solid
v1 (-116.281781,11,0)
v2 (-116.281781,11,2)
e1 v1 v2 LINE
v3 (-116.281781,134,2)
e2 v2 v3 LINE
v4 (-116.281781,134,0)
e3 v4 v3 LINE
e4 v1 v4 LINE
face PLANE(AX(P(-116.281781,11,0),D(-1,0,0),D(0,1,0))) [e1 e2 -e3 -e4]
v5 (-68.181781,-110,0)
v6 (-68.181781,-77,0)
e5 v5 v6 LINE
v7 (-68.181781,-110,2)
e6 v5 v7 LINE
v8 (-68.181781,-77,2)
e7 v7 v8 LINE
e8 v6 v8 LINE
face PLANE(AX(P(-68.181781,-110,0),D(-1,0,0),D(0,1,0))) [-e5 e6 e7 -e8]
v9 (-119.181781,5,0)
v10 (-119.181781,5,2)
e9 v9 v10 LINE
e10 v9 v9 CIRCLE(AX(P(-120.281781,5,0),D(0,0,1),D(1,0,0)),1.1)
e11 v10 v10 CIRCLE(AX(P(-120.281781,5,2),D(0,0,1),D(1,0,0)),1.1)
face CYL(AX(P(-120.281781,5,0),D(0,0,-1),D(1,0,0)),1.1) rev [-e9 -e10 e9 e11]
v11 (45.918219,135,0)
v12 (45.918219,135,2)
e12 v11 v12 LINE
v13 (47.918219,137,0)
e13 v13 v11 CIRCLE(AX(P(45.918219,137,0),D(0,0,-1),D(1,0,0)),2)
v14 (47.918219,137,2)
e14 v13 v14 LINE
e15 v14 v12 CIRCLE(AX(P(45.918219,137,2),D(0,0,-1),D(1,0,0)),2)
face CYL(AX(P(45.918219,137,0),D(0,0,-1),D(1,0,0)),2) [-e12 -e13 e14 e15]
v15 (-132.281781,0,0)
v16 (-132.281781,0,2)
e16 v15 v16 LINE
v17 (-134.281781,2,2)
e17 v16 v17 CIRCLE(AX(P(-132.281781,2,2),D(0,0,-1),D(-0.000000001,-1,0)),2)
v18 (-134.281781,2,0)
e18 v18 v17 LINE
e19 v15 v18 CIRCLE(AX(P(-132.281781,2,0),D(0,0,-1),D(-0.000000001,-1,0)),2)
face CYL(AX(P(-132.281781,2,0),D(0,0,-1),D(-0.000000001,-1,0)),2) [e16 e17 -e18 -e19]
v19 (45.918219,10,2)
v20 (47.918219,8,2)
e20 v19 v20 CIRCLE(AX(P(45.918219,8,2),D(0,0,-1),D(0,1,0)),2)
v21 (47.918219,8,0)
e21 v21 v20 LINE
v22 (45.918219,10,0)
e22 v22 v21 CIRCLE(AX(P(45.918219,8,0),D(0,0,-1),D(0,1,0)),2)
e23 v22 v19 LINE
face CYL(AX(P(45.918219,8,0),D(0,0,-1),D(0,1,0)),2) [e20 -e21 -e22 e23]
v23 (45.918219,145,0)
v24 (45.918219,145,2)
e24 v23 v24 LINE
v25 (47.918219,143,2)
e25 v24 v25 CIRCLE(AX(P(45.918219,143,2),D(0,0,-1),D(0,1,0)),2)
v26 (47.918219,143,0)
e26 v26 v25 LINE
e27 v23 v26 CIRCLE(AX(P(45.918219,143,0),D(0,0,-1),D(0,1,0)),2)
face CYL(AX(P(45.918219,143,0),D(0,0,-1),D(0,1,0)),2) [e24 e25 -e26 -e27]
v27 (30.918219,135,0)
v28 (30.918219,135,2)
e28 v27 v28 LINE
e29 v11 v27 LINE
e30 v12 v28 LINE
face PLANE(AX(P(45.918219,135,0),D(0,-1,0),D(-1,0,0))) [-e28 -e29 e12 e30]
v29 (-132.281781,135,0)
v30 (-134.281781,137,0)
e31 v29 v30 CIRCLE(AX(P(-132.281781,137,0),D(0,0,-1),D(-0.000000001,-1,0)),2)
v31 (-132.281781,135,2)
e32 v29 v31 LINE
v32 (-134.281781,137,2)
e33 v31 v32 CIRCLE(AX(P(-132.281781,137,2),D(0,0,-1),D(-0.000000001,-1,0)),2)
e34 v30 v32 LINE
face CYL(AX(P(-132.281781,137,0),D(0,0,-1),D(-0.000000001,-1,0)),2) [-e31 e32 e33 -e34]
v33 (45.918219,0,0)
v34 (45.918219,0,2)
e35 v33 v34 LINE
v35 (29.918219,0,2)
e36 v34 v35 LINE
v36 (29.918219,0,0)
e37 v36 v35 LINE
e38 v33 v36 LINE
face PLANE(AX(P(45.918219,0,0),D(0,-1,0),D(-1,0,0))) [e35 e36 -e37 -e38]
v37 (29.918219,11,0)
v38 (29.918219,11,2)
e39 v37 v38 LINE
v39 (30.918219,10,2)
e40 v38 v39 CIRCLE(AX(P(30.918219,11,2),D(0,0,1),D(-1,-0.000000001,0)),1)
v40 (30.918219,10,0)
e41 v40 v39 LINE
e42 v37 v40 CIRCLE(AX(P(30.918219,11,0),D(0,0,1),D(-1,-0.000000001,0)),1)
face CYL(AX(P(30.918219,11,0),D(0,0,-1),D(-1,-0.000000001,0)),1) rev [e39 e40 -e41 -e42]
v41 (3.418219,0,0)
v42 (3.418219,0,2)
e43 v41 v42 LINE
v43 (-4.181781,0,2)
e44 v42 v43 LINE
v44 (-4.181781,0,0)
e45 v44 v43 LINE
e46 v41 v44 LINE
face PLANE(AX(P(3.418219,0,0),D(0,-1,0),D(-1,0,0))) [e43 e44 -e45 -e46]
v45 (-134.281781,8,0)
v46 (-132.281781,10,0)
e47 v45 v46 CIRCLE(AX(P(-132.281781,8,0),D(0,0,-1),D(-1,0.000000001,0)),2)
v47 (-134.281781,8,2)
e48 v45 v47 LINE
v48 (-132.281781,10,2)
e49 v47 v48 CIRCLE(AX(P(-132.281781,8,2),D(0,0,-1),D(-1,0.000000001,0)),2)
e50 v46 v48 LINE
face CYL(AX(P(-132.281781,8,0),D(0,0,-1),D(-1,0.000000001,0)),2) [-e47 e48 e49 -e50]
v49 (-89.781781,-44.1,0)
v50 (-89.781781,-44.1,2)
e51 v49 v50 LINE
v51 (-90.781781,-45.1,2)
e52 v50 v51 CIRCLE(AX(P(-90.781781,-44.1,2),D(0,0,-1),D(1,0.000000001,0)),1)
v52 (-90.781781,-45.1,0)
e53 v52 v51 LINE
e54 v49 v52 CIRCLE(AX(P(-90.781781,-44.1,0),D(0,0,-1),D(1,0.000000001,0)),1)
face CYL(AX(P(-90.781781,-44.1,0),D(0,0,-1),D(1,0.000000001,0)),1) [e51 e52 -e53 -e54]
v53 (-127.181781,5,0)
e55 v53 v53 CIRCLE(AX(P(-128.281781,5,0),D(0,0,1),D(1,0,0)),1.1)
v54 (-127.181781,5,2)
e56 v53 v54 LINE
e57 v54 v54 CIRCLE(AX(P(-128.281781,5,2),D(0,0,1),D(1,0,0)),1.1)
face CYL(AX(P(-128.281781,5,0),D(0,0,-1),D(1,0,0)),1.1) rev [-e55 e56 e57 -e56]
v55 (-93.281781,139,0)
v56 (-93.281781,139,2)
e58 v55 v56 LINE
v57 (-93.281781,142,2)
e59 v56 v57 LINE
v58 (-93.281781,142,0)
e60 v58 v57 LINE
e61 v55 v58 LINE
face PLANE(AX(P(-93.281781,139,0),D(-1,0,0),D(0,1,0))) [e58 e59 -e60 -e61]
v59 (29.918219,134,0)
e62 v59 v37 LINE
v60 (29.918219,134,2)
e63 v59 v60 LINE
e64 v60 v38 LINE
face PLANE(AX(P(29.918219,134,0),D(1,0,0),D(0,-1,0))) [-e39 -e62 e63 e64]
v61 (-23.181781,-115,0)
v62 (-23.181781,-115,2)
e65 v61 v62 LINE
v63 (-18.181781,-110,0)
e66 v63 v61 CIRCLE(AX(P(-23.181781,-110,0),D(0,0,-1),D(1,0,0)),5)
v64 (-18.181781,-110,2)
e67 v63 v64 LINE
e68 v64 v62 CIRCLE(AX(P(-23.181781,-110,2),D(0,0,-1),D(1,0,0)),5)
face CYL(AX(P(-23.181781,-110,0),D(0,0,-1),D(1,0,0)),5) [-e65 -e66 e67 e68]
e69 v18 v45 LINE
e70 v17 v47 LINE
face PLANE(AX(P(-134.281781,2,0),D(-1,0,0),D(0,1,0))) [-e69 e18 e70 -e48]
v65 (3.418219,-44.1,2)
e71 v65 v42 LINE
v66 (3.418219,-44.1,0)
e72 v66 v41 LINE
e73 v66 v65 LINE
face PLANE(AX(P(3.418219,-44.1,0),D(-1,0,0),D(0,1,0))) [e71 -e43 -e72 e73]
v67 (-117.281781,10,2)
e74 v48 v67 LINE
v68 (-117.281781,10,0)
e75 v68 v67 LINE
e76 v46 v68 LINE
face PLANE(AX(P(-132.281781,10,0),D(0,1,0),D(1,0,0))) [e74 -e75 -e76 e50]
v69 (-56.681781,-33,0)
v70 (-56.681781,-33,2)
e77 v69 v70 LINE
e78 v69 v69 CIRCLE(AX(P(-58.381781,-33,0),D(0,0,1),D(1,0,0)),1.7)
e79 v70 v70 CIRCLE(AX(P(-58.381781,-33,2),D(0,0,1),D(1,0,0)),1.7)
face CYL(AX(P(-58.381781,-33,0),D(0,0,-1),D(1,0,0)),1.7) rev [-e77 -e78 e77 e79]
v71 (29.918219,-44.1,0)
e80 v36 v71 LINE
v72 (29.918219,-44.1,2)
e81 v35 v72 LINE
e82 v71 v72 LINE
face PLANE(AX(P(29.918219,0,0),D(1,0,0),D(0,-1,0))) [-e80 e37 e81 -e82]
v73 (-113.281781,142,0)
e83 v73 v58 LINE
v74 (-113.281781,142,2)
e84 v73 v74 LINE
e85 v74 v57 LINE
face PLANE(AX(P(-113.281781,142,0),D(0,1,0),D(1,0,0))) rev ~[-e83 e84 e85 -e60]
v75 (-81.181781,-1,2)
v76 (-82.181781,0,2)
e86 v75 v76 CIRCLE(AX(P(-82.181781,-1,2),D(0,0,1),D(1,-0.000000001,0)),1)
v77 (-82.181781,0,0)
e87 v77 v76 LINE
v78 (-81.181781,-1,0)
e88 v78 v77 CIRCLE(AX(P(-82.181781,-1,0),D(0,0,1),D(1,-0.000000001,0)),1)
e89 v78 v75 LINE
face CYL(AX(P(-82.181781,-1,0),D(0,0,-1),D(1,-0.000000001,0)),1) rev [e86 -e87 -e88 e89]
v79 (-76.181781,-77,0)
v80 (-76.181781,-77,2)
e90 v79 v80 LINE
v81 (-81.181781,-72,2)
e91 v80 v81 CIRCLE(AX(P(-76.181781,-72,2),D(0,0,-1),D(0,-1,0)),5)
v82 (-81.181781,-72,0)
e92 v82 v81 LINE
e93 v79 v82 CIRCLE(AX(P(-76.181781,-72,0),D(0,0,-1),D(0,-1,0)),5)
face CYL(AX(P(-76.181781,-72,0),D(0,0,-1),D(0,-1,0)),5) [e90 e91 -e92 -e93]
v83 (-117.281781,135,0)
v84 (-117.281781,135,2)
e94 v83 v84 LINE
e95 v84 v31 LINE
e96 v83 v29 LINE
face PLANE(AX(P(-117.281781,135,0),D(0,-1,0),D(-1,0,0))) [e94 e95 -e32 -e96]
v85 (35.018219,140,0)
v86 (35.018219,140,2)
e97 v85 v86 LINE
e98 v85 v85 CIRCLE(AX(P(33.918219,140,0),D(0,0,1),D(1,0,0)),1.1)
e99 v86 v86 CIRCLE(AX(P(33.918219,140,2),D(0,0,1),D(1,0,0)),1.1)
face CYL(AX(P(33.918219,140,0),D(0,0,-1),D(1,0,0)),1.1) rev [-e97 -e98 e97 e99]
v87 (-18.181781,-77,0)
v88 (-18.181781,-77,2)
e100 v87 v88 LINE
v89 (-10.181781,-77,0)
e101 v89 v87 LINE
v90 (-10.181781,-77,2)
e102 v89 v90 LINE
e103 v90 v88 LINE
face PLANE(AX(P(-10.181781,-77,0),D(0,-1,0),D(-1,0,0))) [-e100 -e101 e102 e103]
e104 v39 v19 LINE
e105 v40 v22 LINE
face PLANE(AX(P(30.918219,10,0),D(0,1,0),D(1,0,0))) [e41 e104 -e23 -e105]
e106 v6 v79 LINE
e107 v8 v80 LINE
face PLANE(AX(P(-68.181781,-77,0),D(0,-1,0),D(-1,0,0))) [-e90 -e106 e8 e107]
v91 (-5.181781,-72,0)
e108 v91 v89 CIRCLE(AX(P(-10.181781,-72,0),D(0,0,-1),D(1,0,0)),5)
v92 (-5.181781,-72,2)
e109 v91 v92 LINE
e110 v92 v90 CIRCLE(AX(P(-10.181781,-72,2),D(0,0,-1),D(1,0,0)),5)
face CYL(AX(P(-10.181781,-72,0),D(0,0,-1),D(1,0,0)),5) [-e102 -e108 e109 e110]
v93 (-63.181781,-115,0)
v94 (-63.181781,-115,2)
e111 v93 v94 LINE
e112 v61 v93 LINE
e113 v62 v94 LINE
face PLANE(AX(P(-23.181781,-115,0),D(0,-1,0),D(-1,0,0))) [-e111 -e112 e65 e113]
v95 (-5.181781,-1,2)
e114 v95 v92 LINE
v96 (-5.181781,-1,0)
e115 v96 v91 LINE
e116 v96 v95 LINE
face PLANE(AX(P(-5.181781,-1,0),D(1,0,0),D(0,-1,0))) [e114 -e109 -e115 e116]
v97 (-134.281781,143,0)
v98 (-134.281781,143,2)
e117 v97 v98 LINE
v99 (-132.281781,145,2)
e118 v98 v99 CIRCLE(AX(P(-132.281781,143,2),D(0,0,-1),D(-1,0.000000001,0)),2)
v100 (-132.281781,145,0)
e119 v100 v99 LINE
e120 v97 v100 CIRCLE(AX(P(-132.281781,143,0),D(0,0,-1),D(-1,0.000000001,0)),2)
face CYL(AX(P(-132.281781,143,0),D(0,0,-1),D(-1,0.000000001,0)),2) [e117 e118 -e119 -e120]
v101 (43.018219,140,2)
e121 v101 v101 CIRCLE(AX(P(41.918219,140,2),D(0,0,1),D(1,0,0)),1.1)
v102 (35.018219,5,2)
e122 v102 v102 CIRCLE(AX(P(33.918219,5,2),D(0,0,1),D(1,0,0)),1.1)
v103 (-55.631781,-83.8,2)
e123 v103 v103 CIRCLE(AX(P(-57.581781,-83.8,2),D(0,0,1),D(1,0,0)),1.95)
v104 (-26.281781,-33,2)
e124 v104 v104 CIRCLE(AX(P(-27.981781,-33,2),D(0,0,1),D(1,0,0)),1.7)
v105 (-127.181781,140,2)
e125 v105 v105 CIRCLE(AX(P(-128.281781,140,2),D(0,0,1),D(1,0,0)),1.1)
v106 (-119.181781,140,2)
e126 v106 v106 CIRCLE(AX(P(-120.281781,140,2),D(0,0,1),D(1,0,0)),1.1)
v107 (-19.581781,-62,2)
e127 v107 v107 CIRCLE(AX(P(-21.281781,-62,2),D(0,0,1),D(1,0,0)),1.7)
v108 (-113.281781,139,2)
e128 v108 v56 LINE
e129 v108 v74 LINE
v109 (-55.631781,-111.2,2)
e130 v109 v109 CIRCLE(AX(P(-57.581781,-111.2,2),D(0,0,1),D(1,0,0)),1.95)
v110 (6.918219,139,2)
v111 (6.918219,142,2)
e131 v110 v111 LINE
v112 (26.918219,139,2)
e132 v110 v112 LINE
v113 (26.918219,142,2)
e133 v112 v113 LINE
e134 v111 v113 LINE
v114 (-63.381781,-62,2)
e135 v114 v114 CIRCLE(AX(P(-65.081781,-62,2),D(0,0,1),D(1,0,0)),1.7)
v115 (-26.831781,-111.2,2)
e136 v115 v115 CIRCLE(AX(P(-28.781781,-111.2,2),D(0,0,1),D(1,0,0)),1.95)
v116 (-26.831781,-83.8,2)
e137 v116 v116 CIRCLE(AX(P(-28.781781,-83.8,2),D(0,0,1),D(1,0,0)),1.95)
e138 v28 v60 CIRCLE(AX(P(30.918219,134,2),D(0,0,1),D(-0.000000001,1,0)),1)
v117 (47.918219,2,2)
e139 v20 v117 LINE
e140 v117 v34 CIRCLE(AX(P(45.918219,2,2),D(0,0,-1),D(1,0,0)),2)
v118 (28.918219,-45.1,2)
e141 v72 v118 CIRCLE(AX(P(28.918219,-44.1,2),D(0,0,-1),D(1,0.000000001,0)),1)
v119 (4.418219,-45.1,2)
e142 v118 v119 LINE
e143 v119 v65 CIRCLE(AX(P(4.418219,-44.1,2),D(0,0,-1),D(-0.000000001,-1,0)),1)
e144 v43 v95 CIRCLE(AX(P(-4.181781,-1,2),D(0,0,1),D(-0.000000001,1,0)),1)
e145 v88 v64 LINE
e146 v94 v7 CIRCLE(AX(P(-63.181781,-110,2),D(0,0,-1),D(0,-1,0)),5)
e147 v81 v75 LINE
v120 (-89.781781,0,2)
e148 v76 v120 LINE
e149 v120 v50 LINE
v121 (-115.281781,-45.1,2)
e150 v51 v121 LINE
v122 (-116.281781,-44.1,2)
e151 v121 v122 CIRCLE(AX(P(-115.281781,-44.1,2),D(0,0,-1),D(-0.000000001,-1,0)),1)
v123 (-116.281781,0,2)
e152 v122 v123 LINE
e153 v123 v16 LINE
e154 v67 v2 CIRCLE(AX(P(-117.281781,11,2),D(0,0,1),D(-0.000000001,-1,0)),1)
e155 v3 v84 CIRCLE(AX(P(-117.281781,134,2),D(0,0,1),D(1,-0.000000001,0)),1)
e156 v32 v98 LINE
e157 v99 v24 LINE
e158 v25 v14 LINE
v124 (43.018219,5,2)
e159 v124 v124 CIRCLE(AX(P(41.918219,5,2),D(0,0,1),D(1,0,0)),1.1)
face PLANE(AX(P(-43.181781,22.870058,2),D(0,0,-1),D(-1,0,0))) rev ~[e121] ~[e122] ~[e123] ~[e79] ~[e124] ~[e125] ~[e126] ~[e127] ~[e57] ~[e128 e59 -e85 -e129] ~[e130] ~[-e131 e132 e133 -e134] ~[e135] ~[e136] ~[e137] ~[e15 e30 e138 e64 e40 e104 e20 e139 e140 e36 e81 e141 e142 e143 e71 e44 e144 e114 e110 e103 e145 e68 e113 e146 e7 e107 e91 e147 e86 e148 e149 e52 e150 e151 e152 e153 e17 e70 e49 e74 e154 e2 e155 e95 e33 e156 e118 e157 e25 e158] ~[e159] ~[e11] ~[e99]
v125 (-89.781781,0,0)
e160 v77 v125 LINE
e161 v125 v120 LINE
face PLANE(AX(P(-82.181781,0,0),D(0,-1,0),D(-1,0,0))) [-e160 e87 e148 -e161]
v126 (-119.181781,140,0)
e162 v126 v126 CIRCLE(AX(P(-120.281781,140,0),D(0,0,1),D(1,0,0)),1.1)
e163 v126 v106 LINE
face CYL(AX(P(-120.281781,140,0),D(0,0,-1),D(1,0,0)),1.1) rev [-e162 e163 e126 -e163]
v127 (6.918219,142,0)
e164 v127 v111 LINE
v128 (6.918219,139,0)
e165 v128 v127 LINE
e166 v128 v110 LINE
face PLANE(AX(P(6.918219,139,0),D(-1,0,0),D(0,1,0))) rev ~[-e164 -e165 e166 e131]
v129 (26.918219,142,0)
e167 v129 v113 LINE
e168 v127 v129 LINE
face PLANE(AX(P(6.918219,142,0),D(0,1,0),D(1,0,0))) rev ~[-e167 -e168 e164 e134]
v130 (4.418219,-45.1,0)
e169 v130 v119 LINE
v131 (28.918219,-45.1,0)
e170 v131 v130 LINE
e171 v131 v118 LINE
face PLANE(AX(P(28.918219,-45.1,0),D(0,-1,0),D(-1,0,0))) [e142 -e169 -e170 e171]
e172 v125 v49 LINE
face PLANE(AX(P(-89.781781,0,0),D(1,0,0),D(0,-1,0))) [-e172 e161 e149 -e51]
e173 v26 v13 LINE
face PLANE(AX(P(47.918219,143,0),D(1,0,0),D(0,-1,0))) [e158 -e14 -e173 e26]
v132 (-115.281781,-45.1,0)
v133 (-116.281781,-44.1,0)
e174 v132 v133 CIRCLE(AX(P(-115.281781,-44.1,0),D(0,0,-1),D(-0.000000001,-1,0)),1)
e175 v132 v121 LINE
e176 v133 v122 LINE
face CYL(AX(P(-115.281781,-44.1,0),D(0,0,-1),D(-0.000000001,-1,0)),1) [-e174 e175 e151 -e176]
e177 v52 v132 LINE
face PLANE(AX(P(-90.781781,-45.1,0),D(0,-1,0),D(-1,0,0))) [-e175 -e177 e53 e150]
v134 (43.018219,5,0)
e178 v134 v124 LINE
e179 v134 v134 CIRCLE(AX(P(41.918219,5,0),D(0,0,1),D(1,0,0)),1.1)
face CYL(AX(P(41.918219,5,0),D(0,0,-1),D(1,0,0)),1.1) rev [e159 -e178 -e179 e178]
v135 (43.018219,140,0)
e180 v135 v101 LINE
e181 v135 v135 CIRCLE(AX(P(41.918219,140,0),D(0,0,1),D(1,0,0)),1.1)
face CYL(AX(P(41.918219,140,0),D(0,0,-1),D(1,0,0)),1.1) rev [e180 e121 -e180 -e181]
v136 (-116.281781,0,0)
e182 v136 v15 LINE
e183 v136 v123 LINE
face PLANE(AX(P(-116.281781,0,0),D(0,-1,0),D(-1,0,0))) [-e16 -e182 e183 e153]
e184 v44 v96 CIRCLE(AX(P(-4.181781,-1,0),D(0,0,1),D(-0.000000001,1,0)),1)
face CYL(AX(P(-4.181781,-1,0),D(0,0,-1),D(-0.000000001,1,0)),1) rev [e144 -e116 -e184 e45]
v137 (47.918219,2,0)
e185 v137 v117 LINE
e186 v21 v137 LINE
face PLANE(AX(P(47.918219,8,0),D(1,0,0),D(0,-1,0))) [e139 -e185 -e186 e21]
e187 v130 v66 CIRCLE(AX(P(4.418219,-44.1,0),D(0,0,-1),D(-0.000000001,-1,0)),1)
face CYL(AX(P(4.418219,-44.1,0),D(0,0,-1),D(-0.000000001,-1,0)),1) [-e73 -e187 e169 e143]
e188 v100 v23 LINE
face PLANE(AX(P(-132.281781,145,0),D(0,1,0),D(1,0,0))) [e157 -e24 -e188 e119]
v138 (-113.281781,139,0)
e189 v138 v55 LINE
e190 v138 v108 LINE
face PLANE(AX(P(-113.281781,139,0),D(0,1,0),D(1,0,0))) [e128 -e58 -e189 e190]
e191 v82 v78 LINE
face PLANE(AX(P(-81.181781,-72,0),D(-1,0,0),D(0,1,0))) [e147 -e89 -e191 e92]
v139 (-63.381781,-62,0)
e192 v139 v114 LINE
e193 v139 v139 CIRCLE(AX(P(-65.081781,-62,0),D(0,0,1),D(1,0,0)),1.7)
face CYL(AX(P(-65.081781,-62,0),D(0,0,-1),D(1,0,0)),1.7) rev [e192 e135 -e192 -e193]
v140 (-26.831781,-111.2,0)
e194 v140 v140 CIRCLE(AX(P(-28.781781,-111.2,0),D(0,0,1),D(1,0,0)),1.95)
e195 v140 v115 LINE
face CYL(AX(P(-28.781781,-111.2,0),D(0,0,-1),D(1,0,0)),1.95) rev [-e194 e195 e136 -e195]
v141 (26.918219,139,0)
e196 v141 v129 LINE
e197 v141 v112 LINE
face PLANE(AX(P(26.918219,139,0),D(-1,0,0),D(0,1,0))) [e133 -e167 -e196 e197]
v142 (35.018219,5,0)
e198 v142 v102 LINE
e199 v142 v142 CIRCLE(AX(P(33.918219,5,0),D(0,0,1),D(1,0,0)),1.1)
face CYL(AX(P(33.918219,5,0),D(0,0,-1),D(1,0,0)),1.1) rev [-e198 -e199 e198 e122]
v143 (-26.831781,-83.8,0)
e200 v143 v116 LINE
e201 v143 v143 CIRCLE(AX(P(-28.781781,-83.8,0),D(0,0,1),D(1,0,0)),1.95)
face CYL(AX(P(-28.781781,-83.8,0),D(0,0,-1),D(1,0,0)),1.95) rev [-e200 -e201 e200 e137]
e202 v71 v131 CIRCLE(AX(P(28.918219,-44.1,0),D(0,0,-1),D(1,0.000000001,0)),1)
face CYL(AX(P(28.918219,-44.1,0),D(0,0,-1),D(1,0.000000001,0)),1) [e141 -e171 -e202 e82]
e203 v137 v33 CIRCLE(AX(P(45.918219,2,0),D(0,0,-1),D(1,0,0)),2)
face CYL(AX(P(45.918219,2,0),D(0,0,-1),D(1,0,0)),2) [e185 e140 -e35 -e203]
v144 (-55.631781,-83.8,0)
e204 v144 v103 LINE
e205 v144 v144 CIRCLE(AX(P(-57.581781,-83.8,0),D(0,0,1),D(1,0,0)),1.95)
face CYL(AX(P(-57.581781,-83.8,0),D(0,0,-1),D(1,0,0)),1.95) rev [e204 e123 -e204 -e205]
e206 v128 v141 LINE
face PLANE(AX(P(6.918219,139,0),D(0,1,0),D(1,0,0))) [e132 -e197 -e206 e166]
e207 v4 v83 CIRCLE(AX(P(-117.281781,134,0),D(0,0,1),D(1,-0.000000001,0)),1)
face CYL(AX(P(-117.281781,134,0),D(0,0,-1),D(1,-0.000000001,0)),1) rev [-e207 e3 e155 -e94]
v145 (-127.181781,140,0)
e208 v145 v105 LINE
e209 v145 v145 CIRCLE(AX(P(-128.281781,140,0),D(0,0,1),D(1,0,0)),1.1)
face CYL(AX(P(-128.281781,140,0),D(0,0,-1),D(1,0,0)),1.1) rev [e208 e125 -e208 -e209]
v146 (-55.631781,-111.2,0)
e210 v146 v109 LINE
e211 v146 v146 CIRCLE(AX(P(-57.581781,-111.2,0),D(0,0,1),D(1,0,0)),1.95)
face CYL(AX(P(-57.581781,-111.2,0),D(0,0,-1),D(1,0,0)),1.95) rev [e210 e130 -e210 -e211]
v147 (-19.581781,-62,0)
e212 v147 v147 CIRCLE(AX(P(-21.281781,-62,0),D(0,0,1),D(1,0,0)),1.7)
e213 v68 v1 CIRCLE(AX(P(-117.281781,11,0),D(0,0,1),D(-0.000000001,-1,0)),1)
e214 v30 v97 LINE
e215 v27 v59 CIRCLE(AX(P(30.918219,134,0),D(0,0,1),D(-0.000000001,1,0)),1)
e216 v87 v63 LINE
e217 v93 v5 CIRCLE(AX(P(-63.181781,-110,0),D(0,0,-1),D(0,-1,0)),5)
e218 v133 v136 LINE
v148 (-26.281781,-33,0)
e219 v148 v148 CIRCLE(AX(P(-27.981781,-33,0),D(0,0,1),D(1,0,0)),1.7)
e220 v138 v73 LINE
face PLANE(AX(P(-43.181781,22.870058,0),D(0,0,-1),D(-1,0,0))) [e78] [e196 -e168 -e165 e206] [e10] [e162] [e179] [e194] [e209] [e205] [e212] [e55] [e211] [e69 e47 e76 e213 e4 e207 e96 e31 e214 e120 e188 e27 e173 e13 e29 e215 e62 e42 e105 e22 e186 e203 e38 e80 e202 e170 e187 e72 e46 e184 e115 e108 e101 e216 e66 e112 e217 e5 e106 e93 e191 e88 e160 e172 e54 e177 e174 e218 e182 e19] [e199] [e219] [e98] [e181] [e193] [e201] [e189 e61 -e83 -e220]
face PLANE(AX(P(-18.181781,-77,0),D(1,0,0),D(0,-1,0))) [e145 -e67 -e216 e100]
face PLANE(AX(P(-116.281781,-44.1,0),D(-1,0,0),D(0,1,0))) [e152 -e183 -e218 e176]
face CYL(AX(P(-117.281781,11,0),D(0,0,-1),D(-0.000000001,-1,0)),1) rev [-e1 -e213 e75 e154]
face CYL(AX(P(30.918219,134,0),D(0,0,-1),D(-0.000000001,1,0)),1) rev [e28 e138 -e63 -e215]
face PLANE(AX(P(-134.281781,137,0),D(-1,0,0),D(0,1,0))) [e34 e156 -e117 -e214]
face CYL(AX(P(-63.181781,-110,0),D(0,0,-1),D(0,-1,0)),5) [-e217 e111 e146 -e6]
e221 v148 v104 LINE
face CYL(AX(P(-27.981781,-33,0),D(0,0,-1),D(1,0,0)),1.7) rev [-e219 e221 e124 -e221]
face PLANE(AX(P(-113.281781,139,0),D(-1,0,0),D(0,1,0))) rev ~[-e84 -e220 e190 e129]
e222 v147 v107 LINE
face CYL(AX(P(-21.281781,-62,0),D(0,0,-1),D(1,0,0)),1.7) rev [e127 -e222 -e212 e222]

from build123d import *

# Parameters (mm, degrees)
SKETCH1_R           = 1.95
SKETCH1_R_2         = 1.1
SKETCH1_R_3         = 1.7
SKETCH1_W           = 20
SKETCH1_H           = 3
BOSS_EXTRUDE2_DEPTH = 2


with BuildPart() as part:
    # Sketch1 → Boss-Extrude2 (new body)
    with BuildSketch(Plane.XY):
        with BuildLine():
            Line((-132.281780802, 145), (45.918219198, 145))
            ThreePointArc((45.918219198, 145), (47.332432761, 144.414213562), (47.918219198, 143))
            Line((47.918219198, 143), (47.918219198, 137))
            ThreePointArc((47.918219198, 137), (47.332432761, 135.585786438), (45.918219198, 135))
            Line((45.918219198, 135), (30.918219198, 135))
            ThreePointArc((30.918219198, 135), (30.211112417, 134.707106781), (29.918219198, 134))
            Line((29.918219198, 134), (29.918219198, 11))
            ThreePointArc((29.918219198, 11), (30.211112417, 10.292893219), (30.918219198, 10))
            Line((30.918219198, 10), (45.918219198, 10))
            ThreePointArc((45.918219198, 10), (47.332432761, 9.414213562), (47.918219198, 8))
            Line((47.918219198, 8), (47.918219198, 2))
            ThreePointArc((47.918219198, 2), (47.332432761, 0.585786438), (45.918219198, 0))
            Line((45.918219198, 0), (29.918219198, 0))
            Line((29.918219198, 0), (29.918219198, -44.1))
            ThreePointArc((29.918219198, -44.1), (29.62532598, -44.807106781), (28.918219198, -45.1))
            Line((28.918219198, -45.1), (4.418219198, -45.1))
            ThreePointArc((4.418219198, -45.1), (3.711112417, -44.807106781), (3.418219198, -44.1))
            Line((3.418219198, -44.1), (3.418219198, 0))
            Line((3.418219198, 0), (-4.181780802, 0))
            ThreePointArc((-4.181780802, 0), (-4.888887583, -0.292893219), (-5.181780802, -1))
            Line((-5.181780802, -1), (-5.181780802, -72))
            ThreePointArc((-5.181780802, -72), (-6.646246896, -75.535533906), (-10.181780802, -77))
            Line((-10.181780802, -77), (-18.181780802, -77))
            Line((-18.181780802, -77), (-18.181780802, -110))
            ThreePointArc((-18.181780802, -110), (-19.646246896, -113.535533906), (-23.181780802, -115))
            Line((-23.181780802, -115), (-63.181780802, -115))
            ThreePointArc((-63.181780802, -115), (-66.717314707, -113.535533906), (-68.181780802, -110))
            Line((-68.181780802, -110), (-68.181780802, -77))
            Line((-68.181780802, -77), (-76.181780802, -77))
            ThreePointArc((-76.181780802, -77), (-79.717314707, -75.535533906), (-81.181780802, -72))
            Line((-81.181780802, -72), (-81.181780802, -1))
            ThreePointArc((-81.181780802, -1), (-81.47467402, -0.292893219), (-82.181780802, 0))
            Line((-82.181780802, 0), (-89.781780802, 0))
            Line((-89.781780802, 0), (-89.781780802, -44.1))
            ThreePointArc((-89.781780802, -44.1), (-90.07467402, -44.807106781), (-90.781780802, -45.1))
            Line((-90.781780802, -45.1), (-115.281780802, -45.1))
            ThreePointArc((-115.281780802, -45.1), (-115.988887583, -44.807106781), (-116.281780802, -44.1))
            Line((-116.281780802, -44.1), (-116.281780802, 0))
            Line((-116.281780802, 0), (-132.281780802, 0))
            ThreePointArc((-132.281780802, 0), (-133.695994364, 0.585786438), (-134.281780802, 2))
            Line((-134.281780802, 2), (-134.281780802, 8))
            ThreePointArc((-134.281780802, 8), (-133.695994364, 9.414213562), (-132.281780802, 10))
            Line((-132.281780802, 10), (-117.281780802, 10))
            ThreePointArc((-117.281780802, 10), (-116.57467402, 10.292893219), (-116.281780802, 11))
            Line((-116.281780802, 11), (-116.281780802, 134))
            ThreePointArc((-116.281780802, 134), (-116.57467402, 134.707106781), (-117.281780802, 135))
            Line((-117.281780802, 135), (-132.281780802, 135))
            ThreePointArc((-132.281780802, 135), (-133.695994364, 135.585786438), (-134.281780802, 137))
            Line((-134.281780802, 137), (-134.281780802, 143))
            ThreePointArc((-134.281780802, 143), (-133.695994364, 144.414213562), (-132.281780802, 145))
        make_face()
        with Locations((-28.781780802, -111.2)):
            Circle(SKETCH1_R, mode=Mode.SUBTRACT)
        with Locations((41.918219198, 140)):
            Circle(SKETCH1_R_2, mode=Mode.SUBTRACT)
        with Locations((33.918219198, 140)):
            Circle(SKETCH1_R_2, mode=Mode.SUBTRACT)
        with Locations((41.918219198, 5)):
            Circle(SKETCH1_R_2, mode=Mode.SUBTRACT)
        with Locations((33.918219198, 5)):
            Circle(SKETCH1_R_2, mode=Mode.SUBTRACT)
        with Locations((-28.781780802, -83.8)):
            Circle(SKETCH1_R, mode=Mode.SUBTRACT)
        with Locations((-21.281780802, -62)):
            Circle(SKETCH1_R_3, mode=Mode.SUBTRACT)
        with Locations((-27.981780802, -33)):
            Circle(SKETCH1_R_3, mode=Mode.SUBTRACT)
        with Locations((-58.381780802, -33)):
            Circle(SKETCH1_R_3, mode=Mode.SUBTRACT)
        with Locations((-65.081780802, -62)):
            Circle(SKETCH1_R_3, mode=Mode.SUBTRACT)
        with Locations((-57.581780802, -83.8)):
            Circle(SKETCH1_R, mode=Mode.SUBTRACT)
        with Locations((-120.281780802, 5)):
            Circle(SKETCH1_R_2, mode=Mode.SUBTRACT)
        with Locations((-128.281780802, 5)):
            Circle(SKETCH1_R_2, mode=Mode.SUBTRACT)
        with Locations((-120.281780802, 140)):
            Circle(SKETCH1_R_2, mode=Mode.SUBTRACT)
        with Locations((-128.281780802, 140)):
            Circle(SKETCH1_R_2, mode=Mode.SUBTRACT)
        with Locations((-57.581780802, -111.2)):
            Circle(SKETCH1_R, mode=Mode.SUBTRACT)
        with Locations((-103.281780802, 140.5)):
            Rectangle(SKETCH1_W, SKETCH1_H, mode=Mode.SUBTRACT)
        with Locations((16.918219198, 140.5)):
            Rectangle(SKETCH1_W, SKETCH1_H, mode=Mode.SUBTRACT)
    extrude(amount=BOSS_EXTRUDE2_DEPTH)


solid = part.part
